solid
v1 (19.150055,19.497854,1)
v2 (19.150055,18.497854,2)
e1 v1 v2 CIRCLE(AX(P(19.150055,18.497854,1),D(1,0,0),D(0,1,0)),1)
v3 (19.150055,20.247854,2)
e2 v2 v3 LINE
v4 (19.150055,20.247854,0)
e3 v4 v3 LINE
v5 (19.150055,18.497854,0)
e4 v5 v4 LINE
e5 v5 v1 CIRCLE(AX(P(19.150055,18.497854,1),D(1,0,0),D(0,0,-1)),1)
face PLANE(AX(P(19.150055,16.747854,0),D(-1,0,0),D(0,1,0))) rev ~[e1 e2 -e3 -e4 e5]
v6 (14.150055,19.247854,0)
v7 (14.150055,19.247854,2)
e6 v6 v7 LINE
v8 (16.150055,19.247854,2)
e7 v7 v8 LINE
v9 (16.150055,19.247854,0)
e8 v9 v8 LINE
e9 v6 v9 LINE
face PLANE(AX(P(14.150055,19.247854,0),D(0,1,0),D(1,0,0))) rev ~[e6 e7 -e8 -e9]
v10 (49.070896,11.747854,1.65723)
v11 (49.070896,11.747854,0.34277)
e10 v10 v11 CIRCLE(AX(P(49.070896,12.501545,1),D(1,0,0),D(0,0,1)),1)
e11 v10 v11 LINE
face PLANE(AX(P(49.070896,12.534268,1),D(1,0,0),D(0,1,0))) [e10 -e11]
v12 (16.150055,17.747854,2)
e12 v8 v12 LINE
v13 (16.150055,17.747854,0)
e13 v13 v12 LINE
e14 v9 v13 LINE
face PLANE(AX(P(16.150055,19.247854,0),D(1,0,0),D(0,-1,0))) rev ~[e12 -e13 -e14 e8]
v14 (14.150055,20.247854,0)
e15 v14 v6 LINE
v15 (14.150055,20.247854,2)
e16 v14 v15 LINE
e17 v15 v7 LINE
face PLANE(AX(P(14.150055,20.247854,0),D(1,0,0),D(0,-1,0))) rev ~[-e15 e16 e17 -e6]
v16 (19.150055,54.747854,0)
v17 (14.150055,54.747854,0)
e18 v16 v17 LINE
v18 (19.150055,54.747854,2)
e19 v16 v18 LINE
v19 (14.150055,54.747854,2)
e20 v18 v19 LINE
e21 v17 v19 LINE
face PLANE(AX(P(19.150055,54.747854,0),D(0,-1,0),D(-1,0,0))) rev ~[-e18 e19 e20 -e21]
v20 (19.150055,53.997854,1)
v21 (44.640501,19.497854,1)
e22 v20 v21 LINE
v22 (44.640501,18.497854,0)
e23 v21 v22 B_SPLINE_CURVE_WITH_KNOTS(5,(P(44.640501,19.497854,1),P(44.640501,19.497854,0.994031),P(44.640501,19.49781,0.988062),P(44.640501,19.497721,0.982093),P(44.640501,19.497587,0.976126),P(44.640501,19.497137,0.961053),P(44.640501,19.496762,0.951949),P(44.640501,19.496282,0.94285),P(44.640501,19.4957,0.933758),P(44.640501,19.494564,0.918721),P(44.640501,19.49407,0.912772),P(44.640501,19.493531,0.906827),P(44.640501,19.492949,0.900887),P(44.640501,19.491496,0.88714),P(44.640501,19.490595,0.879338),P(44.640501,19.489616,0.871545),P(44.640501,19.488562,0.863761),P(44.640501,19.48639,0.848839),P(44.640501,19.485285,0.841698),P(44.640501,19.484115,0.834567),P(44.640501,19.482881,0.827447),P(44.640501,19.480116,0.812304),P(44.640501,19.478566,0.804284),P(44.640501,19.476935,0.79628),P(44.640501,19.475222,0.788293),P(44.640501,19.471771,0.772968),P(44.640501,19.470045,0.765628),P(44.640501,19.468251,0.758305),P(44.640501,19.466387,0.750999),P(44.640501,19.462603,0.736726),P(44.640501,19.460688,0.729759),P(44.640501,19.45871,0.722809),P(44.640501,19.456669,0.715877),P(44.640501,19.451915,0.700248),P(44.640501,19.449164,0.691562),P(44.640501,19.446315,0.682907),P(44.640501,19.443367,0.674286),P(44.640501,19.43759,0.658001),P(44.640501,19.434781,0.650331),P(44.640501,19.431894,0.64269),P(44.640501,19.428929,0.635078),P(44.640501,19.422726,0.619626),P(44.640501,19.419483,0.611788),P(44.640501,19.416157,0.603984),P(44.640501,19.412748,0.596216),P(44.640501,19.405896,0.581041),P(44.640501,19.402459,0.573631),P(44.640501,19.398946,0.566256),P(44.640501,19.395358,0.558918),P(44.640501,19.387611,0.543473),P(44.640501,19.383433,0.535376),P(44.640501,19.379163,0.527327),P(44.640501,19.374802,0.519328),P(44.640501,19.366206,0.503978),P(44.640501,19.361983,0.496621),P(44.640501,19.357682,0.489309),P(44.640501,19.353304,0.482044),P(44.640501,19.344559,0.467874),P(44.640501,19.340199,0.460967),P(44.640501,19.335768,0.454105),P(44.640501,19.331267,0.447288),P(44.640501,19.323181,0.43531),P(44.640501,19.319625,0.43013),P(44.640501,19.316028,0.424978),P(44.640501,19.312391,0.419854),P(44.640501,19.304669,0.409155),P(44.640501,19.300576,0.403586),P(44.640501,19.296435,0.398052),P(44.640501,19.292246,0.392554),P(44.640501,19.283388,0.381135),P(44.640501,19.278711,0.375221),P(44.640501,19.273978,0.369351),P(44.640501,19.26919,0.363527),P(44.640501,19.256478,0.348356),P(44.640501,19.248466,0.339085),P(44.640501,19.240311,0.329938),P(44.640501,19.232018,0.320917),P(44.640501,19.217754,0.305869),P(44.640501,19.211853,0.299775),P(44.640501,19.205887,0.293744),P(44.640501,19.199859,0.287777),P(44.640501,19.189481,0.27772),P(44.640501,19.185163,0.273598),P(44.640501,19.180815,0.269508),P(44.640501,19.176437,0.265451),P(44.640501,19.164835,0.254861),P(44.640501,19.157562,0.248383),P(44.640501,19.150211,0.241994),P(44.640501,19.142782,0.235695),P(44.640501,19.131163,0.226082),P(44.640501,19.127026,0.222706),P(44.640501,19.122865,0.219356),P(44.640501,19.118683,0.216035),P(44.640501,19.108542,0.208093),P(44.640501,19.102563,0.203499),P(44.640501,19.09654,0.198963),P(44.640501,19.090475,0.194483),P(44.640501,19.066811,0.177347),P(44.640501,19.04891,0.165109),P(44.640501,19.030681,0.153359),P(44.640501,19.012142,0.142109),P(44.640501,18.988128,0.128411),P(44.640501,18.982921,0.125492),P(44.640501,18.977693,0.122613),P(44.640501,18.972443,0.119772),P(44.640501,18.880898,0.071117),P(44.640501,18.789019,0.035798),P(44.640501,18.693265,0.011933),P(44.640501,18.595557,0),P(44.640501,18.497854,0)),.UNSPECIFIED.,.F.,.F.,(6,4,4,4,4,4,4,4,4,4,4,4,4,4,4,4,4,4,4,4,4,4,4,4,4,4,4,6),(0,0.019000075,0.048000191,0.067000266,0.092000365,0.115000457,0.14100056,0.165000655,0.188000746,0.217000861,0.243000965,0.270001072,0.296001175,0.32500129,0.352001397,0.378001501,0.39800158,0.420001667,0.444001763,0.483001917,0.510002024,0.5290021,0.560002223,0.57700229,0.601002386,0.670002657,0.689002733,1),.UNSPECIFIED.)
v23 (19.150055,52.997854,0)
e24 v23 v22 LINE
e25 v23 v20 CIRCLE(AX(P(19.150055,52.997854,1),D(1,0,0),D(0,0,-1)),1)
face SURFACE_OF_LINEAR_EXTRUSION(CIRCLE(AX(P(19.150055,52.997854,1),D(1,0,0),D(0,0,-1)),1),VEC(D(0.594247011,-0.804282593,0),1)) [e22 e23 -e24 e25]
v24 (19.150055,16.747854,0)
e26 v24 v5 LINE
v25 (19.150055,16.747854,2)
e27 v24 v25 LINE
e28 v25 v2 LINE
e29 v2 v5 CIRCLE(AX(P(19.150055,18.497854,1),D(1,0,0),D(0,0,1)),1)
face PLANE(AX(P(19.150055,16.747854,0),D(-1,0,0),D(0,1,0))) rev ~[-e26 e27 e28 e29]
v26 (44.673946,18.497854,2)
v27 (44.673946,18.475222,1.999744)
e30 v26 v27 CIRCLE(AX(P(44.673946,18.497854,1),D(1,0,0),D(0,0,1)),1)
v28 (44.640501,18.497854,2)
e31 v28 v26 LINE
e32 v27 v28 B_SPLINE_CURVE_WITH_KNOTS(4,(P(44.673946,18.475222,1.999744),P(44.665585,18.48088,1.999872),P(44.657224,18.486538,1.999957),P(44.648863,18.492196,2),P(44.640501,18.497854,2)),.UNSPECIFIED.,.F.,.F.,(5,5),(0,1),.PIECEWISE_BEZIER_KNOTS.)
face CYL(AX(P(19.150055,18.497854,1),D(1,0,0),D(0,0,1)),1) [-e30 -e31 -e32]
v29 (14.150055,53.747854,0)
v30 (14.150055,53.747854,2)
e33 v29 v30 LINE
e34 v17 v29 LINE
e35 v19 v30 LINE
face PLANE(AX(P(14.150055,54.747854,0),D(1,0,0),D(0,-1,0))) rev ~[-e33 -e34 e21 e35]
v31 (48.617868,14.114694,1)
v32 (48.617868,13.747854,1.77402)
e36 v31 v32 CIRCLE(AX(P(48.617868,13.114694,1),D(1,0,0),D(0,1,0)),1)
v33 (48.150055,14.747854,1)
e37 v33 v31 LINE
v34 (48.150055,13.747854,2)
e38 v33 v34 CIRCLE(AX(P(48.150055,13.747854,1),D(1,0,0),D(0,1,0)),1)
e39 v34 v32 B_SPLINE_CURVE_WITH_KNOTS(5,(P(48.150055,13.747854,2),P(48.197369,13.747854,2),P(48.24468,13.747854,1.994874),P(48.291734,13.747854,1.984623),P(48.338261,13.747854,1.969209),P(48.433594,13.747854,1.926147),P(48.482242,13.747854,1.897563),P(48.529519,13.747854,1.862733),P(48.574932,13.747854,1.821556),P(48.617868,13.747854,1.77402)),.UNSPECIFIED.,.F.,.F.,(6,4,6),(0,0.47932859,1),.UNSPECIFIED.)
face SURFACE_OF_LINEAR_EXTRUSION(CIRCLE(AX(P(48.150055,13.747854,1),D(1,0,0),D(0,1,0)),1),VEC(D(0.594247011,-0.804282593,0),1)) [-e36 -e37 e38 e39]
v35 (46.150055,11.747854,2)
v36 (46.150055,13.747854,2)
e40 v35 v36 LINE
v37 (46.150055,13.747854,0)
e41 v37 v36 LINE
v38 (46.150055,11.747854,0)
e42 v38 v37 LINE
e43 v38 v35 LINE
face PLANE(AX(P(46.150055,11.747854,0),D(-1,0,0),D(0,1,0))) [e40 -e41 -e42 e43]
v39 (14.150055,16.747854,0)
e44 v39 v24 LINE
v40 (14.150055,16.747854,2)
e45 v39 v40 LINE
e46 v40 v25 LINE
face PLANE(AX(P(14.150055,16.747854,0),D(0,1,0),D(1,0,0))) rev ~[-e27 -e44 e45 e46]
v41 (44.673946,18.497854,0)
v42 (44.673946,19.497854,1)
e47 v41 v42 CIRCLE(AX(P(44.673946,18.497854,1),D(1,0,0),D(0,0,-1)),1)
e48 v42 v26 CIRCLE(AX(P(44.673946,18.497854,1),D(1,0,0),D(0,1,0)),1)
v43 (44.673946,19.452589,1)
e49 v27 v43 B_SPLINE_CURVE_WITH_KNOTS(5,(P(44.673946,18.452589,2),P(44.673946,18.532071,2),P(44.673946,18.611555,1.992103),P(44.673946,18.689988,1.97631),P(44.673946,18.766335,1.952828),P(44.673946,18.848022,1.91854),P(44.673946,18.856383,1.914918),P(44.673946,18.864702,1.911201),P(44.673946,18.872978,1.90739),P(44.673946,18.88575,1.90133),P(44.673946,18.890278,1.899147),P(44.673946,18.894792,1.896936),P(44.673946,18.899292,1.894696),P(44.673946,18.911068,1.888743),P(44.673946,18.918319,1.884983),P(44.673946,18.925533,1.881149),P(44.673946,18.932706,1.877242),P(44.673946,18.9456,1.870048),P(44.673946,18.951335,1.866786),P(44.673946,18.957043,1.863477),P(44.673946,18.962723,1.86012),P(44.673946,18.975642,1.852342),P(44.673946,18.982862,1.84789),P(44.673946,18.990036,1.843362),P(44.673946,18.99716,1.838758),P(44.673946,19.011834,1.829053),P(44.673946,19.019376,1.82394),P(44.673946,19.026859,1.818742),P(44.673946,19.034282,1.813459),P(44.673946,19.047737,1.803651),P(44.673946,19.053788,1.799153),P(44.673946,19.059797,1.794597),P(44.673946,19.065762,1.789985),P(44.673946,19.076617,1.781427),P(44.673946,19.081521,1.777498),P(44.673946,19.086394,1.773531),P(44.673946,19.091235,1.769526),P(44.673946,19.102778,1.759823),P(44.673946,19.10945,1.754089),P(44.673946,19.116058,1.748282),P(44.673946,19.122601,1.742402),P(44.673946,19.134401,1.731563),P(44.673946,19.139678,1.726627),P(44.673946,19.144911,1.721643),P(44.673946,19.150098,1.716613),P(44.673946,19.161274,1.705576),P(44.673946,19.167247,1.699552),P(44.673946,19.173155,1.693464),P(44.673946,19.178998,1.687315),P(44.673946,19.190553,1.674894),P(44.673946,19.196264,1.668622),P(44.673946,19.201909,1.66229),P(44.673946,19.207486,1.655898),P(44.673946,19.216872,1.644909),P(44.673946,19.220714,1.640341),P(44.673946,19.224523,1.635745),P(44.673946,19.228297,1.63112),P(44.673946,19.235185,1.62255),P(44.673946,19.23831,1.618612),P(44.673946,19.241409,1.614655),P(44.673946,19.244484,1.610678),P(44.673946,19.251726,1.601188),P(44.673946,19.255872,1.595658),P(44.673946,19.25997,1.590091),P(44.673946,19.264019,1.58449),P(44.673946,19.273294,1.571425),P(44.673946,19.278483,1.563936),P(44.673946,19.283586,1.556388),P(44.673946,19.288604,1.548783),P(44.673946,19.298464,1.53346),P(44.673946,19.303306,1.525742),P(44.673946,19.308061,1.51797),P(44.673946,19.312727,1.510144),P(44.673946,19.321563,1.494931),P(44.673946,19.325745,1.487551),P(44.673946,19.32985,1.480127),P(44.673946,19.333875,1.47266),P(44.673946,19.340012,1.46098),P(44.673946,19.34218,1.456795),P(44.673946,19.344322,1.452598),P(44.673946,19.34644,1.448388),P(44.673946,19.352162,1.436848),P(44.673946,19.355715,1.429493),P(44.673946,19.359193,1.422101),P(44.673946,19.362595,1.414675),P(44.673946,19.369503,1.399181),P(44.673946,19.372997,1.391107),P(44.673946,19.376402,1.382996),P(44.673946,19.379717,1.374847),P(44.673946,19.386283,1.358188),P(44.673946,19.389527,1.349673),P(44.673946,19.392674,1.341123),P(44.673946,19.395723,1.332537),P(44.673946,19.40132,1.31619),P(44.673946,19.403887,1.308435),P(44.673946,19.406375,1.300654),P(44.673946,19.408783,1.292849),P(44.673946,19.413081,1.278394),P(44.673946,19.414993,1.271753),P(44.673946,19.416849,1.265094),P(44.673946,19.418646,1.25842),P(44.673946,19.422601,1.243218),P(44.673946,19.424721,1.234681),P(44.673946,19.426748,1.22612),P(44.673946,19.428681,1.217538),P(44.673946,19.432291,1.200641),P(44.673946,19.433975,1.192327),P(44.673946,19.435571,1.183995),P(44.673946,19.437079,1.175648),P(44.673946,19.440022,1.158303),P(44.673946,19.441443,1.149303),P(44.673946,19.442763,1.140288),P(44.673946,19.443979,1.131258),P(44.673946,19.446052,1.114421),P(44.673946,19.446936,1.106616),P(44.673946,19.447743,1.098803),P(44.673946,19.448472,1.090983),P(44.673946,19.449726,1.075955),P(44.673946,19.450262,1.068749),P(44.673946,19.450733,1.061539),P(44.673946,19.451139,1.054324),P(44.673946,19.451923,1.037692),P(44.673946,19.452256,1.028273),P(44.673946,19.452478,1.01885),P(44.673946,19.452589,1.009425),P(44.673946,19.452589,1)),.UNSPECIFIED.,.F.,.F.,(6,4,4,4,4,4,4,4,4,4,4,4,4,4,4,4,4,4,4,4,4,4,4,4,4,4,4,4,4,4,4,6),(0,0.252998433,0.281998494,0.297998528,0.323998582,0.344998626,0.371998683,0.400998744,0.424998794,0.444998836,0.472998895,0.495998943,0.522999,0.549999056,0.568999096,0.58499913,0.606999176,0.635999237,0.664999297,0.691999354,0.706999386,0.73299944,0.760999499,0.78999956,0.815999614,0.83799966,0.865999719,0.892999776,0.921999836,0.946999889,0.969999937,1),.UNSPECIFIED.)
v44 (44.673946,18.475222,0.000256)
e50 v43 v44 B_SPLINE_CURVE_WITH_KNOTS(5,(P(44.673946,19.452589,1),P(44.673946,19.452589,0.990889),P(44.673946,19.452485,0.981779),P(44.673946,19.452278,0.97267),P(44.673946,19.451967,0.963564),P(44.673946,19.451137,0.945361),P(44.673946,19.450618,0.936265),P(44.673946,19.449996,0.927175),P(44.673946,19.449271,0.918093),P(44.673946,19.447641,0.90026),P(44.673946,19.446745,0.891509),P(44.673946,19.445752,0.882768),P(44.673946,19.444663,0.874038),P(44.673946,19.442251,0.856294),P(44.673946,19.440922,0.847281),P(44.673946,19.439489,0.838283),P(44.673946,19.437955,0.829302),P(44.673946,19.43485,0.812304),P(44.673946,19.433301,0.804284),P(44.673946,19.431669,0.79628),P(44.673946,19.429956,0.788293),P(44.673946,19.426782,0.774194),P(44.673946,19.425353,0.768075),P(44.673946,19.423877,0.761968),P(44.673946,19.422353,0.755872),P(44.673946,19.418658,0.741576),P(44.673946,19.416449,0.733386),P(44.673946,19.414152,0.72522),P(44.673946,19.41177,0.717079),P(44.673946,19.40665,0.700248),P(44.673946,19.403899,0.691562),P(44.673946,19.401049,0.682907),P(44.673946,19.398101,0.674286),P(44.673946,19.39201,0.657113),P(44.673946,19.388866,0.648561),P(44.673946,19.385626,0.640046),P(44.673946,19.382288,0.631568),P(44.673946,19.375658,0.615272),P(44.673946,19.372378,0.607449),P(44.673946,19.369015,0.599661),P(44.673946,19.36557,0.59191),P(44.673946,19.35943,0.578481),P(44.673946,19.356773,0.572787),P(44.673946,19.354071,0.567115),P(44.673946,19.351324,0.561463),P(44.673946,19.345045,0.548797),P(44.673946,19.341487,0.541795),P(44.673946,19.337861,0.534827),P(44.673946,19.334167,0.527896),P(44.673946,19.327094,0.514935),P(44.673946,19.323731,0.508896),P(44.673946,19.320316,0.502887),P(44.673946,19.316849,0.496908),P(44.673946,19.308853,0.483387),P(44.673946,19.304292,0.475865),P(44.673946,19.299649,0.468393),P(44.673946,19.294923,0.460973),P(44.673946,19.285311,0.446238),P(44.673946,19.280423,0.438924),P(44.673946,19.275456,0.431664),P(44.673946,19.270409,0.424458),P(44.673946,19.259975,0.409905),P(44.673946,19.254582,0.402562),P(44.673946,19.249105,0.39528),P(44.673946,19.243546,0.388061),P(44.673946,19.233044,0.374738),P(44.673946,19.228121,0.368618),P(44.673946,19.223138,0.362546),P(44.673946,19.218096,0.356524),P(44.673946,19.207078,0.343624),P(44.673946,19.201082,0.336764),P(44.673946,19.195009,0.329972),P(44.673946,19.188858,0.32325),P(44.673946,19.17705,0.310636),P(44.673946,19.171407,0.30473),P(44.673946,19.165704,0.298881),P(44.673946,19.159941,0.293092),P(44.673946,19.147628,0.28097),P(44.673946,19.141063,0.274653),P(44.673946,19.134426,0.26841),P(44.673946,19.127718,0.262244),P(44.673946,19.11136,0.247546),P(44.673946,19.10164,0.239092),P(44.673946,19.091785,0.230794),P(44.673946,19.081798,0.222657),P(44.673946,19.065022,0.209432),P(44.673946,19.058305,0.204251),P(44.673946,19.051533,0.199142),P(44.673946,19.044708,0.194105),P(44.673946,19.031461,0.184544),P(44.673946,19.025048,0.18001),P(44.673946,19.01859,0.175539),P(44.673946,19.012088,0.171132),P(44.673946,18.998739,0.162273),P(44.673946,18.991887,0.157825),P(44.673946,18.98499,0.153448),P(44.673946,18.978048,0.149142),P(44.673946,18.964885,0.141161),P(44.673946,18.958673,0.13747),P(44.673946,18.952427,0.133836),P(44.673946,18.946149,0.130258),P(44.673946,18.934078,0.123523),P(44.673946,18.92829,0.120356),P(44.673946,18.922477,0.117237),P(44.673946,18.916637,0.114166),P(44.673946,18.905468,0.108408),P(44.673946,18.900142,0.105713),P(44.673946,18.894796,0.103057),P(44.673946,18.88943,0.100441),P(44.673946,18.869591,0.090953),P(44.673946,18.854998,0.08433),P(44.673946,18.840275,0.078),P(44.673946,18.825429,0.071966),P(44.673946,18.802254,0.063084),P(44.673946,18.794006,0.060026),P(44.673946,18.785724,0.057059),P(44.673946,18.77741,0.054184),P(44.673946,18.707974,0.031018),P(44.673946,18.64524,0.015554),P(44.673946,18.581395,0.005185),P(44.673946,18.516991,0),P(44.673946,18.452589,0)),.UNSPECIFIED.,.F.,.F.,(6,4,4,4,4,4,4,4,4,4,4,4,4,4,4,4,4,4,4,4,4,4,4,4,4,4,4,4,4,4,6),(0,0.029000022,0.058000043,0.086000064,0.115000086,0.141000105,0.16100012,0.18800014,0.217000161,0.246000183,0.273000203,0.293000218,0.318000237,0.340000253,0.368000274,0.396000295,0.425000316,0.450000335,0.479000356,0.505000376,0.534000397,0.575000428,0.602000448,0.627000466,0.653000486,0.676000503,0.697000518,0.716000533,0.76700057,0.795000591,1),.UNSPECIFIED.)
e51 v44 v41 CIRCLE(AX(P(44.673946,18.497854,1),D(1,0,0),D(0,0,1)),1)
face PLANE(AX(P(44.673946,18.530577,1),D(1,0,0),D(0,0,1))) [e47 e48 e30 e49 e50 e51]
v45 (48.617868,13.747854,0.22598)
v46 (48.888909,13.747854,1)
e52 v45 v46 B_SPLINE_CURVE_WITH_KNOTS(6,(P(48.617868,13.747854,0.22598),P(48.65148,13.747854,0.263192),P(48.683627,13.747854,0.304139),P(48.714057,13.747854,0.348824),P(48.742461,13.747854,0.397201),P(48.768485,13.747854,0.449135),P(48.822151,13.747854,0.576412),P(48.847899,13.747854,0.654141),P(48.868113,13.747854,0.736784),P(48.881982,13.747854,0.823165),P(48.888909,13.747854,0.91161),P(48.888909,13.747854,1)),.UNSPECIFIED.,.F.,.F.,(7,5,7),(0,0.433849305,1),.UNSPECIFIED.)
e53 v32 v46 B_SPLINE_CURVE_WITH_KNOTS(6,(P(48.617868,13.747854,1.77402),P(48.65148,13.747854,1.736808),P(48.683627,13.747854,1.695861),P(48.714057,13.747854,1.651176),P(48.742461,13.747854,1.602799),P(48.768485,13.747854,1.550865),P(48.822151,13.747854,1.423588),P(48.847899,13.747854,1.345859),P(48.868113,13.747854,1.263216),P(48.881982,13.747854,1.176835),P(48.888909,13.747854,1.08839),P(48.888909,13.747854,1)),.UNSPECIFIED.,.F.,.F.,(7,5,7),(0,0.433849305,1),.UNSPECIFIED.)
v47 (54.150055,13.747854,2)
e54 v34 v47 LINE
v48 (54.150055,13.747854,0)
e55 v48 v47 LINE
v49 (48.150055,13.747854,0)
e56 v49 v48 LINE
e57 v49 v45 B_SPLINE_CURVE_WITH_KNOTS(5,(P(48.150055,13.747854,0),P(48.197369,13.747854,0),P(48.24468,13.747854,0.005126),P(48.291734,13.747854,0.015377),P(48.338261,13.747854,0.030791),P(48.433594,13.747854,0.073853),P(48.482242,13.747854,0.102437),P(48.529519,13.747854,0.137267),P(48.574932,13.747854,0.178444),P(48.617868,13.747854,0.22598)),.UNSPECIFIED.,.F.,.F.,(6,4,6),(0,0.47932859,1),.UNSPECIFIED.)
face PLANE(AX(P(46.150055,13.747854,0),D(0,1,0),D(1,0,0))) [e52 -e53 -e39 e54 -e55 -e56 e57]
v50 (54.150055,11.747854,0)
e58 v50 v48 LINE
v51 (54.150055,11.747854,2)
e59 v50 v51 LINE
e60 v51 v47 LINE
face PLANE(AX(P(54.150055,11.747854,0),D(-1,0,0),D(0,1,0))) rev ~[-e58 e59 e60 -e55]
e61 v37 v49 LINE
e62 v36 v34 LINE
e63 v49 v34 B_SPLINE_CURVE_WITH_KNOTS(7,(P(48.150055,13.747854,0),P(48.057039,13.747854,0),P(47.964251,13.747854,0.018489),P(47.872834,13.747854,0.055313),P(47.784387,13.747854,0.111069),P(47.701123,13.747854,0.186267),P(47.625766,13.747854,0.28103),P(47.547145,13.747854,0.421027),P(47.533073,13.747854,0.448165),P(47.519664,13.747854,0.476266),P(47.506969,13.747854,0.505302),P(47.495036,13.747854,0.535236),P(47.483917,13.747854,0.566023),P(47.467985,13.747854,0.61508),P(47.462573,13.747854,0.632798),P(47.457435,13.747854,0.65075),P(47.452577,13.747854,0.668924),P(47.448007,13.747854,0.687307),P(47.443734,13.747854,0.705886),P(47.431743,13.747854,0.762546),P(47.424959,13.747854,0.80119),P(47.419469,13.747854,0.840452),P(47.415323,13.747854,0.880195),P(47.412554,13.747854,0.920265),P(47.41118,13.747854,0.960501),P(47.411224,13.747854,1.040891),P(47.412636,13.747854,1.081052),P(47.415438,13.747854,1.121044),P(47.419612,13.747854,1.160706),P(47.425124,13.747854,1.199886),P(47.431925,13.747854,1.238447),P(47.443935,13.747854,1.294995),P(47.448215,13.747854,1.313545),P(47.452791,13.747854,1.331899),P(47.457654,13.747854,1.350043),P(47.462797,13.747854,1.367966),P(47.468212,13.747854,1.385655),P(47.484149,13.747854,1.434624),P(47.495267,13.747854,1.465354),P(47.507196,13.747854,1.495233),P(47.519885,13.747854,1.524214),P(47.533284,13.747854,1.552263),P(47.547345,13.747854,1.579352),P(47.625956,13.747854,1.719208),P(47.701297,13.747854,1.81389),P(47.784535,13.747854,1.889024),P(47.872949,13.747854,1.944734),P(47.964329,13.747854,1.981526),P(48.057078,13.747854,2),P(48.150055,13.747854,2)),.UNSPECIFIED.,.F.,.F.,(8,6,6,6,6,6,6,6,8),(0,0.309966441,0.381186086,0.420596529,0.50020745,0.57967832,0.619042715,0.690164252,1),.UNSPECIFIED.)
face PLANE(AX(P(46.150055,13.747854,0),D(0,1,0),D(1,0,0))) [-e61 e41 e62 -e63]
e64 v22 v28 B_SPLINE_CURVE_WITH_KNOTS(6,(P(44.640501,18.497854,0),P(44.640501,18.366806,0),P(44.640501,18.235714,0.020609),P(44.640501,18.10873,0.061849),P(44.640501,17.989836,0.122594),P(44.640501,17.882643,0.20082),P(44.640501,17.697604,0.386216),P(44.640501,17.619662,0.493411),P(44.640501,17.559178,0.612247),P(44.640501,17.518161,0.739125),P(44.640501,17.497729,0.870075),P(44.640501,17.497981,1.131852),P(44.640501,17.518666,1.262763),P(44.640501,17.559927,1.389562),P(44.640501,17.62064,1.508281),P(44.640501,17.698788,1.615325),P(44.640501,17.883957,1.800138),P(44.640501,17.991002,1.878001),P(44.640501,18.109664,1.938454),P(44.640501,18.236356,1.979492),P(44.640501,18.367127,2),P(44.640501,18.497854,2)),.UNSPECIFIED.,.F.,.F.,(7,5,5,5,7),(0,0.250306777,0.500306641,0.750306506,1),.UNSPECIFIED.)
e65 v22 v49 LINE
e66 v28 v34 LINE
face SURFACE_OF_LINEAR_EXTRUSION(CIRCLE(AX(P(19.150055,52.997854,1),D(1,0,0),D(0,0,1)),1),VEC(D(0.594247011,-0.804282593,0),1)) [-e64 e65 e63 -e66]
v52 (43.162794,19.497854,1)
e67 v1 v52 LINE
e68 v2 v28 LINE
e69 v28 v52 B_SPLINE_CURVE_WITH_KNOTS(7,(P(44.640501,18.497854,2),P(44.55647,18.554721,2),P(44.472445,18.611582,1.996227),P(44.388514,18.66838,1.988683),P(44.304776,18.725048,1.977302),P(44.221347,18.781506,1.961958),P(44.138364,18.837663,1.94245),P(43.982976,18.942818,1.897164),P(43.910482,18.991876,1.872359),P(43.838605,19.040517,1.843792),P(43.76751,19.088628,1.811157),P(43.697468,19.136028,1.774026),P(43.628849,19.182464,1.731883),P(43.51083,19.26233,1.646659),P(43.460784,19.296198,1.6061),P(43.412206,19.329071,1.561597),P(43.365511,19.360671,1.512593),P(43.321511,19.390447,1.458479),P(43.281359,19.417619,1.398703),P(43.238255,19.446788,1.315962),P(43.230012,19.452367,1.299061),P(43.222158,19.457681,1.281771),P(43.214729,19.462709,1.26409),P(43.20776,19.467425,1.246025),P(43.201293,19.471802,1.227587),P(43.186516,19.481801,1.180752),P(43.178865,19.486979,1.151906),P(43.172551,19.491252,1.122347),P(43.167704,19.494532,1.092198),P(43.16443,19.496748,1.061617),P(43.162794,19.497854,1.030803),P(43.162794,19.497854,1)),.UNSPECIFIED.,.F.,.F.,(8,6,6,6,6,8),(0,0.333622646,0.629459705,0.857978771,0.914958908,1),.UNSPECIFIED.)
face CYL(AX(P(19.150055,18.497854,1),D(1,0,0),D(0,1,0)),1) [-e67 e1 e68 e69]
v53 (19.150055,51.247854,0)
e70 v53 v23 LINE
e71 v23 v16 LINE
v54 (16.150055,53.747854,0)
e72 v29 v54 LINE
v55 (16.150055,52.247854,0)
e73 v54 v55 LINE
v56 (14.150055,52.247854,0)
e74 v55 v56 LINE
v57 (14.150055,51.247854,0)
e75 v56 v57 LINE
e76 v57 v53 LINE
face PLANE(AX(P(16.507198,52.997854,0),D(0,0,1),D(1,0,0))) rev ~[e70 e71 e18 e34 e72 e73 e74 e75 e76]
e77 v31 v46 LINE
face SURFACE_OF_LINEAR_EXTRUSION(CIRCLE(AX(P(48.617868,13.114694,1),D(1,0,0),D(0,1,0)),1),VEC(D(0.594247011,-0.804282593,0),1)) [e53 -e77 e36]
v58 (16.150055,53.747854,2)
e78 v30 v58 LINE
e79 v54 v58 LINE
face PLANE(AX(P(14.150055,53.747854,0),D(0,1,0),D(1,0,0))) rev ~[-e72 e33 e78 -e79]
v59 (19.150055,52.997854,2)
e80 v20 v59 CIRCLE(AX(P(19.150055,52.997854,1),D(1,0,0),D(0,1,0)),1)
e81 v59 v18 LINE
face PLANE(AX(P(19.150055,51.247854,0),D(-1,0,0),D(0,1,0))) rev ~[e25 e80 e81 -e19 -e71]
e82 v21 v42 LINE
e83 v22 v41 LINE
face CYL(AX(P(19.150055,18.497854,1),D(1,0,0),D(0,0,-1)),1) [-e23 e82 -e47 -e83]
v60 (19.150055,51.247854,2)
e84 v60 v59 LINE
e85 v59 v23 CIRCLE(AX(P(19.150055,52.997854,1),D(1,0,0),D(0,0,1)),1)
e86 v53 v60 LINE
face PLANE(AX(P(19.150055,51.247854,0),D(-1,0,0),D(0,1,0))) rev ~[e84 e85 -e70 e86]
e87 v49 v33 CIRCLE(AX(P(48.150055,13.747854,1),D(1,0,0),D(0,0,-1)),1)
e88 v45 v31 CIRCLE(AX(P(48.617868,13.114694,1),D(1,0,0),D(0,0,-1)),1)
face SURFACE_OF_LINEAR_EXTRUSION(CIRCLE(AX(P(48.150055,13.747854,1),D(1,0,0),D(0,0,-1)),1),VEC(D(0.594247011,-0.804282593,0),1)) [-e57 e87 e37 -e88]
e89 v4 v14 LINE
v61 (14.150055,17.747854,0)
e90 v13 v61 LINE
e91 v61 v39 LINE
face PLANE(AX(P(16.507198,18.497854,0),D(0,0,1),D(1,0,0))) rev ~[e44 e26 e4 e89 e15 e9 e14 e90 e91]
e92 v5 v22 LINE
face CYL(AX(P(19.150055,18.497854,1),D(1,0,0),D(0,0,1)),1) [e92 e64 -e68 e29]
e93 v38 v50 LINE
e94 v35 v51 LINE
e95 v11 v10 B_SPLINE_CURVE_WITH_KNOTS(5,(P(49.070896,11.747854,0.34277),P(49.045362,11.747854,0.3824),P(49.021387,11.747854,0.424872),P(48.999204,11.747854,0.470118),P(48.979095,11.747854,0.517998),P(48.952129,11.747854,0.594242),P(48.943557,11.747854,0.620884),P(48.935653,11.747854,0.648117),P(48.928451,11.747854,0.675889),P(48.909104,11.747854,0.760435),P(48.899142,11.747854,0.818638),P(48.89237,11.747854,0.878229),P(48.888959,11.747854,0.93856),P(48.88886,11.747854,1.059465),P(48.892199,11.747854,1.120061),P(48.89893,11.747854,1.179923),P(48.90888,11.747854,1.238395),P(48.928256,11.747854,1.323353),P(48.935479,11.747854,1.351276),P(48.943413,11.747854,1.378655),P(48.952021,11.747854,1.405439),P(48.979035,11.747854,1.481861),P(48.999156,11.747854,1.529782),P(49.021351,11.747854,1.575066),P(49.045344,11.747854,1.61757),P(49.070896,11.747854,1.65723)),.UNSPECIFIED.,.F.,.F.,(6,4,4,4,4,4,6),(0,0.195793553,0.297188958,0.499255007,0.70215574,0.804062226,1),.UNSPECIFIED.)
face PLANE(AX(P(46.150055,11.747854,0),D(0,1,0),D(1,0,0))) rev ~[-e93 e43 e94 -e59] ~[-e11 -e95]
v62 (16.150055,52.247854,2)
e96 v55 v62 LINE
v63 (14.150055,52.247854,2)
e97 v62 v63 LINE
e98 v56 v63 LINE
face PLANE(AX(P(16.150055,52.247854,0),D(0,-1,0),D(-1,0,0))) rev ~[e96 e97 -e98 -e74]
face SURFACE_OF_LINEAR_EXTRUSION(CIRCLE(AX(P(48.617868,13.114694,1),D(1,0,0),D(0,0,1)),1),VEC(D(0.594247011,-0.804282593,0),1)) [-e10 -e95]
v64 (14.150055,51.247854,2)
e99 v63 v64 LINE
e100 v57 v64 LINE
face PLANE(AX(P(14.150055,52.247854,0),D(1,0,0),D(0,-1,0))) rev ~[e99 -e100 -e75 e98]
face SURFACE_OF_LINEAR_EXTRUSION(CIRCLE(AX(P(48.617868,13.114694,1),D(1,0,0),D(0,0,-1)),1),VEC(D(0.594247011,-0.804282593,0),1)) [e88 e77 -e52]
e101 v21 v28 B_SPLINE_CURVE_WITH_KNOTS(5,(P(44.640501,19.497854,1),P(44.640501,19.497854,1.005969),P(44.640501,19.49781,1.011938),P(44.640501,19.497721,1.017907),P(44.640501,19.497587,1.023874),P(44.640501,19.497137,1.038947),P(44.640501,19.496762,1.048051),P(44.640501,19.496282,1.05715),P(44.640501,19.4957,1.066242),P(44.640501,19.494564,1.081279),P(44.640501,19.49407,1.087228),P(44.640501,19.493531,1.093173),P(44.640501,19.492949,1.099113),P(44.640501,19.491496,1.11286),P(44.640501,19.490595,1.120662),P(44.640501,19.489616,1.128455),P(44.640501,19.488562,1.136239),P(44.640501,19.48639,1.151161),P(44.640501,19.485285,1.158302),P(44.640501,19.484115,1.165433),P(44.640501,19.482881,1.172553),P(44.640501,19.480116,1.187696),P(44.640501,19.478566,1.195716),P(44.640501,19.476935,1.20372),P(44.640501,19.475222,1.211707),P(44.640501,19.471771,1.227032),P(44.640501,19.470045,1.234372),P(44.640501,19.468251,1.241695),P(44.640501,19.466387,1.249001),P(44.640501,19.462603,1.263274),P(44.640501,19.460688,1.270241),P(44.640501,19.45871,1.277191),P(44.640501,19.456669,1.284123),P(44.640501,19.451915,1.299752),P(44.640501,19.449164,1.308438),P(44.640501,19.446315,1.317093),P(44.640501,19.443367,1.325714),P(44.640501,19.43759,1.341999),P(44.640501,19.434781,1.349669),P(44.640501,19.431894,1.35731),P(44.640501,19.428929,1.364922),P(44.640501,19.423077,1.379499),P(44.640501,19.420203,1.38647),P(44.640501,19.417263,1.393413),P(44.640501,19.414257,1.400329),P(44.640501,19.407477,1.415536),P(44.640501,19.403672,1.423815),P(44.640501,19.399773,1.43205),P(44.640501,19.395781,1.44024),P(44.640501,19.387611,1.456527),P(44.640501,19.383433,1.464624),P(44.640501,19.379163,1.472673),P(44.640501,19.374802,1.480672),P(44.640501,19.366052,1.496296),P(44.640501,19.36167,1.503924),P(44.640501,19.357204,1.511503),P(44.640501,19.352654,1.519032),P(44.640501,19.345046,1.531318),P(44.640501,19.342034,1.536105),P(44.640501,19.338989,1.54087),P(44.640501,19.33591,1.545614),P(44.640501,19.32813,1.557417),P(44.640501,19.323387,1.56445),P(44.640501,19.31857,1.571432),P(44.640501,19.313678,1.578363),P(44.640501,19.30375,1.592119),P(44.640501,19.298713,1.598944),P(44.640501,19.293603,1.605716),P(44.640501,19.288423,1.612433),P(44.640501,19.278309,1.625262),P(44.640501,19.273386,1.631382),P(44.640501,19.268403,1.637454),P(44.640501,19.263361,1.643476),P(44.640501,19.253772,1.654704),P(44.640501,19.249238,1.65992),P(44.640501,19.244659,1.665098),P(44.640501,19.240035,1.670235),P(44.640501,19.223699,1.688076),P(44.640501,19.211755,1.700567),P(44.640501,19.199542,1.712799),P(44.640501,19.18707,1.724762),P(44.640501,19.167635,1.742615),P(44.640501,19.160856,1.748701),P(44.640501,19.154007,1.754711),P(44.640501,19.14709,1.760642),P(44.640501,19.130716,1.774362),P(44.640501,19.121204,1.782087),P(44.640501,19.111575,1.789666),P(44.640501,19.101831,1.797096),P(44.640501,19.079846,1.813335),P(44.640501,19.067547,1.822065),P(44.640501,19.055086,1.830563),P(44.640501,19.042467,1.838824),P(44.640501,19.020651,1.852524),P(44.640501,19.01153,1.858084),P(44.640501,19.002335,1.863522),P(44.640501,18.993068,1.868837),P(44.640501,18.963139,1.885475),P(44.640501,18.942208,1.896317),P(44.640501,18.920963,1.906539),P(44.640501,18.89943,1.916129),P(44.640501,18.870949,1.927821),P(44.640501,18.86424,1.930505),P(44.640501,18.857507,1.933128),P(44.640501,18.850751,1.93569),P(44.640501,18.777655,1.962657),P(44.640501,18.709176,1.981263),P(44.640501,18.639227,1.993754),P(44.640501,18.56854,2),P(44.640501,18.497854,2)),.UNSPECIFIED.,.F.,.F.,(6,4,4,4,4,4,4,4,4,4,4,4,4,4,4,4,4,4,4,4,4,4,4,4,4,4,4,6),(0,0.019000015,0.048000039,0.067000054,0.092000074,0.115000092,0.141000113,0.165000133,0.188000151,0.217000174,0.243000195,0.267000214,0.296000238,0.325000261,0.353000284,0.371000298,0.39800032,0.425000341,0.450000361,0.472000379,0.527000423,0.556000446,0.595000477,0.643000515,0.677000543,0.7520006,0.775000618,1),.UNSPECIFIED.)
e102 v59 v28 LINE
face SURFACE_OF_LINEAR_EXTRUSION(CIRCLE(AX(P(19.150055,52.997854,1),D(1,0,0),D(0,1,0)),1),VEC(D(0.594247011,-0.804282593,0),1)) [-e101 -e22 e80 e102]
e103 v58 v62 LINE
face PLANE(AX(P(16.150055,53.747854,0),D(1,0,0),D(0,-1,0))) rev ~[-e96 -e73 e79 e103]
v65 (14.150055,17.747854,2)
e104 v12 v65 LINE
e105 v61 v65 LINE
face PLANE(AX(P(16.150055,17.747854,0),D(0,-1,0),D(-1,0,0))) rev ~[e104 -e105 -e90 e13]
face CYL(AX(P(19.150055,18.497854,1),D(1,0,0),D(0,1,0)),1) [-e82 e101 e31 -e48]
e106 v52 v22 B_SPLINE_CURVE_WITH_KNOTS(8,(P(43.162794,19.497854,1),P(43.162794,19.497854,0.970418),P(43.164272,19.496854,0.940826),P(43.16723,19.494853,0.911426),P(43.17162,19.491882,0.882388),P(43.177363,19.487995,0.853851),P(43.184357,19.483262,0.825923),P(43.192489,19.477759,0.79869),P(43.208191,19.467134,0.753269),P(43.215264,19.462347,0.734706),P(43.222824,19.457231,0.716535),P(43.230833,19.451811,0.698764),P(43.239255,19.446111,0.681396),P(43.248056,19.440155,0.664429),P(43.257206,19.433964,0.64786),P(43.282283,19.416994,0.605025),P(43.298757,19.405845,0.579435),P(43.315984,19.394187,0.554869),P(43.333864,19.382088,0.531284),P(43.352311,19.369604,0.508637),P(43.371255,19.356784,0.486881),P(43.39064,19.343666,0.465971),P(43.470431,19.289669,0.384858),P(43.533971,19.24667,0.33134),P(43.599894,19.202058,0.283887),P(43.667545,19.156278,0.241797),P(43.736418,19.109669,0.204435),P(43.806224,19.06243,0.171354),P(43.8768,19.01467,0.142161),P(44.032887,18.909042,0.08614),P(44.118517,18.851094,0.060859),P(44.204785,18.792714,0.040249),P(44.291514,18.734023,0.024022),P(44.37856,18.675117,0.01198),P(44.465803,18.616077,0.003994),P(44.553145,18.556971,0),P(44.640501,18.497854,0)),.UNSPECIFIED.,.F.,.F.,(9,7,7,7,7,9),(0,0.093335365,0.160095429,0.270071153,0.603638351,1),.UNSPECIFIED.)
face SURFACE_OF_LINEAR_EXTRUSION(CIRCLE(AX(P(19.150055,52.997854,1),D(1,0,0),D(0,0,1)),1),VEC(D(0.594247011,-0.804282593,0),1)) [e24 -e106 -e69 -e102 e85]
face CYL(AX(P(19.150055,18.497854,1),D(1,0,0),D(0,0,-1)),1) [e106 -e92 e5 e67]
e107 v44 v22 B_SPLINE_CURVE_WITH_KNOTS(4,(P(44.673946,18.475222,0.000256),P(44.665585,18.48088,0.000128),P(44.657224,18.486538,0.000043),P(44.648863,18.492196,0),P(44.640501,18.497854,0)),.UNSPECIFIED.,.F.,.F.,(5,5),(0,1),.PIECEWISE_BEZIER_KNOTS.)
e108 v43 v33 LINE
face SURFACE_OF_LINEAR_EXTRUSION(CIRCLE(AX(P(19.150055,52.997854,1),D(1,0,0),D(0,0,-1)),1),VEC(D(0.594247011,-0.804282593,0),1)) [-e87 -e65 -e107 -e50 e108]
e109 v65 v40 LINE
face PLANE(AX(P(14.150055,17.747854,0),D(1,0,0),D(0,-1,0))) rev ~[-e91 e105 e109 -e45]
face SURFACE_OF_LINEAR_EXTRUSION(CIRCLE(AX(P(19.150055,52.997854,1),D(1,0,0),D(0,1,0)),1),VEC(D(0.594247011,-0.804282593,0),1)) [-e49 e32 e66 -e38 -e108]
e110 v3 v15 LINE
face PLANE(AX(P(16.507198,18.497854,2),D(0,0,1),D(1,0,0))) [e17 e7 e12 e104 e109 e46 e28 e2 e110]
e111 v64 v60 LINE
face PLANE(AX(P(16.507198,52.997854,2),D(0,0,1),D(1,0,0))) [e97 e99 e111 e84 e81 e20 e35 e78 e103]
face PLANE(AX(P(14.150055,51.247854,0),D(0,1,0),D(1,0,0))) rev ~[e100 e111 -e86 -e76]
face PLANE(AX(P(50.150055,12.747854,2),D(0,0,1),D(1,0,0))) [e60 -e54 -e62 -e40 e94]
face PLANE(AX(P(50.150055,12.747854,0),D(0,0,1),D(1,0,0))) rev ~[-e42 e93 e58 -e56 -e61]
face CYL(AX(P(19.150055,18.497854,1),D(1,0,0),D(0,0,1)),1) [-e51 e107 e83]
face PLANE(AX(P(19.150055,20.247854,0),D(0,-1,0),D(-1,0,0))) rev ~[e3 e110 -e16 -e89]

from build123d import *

# Parameters (mm, degrees)
F1_DEPTH = 2
F0_W     = 8
F0_H     = 2
F3_DEPTH = 2


with BuildPart() as f1:
    # F0 (on Top) → F1 (new body)
    with BuildSketch(Plane.XY):
        Polygon((19.1500553724, 54.7478544891), (14.1500553724, 54.7478544891), (14.1500553724, 53.7478544891), (16.1500553724, 53.7478544891), (16.1500553724, 52.2478544891), (14.1500553724, 52.2478544891), (14.1500553724, 51.2478544891), (19.1500553724, 51.2478544891), align=None)
    extrude(amount=F1_DEPTH)

    # F0 (on Top) → F3 (join)
    with BuildSketch(Plane.XY):
        Polygon((19.1500553724, 54.7478544891), (14.1500553724, 54.7478544891), (14.1500553724, 53.7478544891), (16.1500553724, 53.7478544891), (16.1500553724, 52.2478544891), (14.1500553724, 52.2478544891), (14.1500553724, 51.2478544891), (19.1500553724, 51.2478544891), align=None)
    extrude(amount=F3_DEPTH)



with BuildPart() as f1b:
    # F0 (on Top) → F1, piece 2 (new body)
    with BuildSketch(Plane.XY):
        Polygon((14.1500553724, 16.7478544891), (19.1500553724, 16.7478544891), (19.1500553724, 20.2478544891), (14.1500553724, 20.2478544891), (14.1500553724, 19.2478544891), (16.1500553724, 19.2478544891), (16.1500553724, 17.7478544891), (14.1500553724, 17.7478544891), align=None)
    extrude(amount=F1_DEPTH)

    # F0 (on Top) → F3, piece 2 (join)
    with BuildSketch(Plane.XY):
        Polygon((14.1500553724, 16.7478544891), (19.1500553724, 16.7478544891), (19.1500553724, 20.2478544891), (14.1500553724, 20.2478544891), (14.1500553724, 19.2478544891), (16.1500553724, 19.2478544891), (16.1500553724, 17.7478544891), (14.1500553724, 17.7478544891), align=None)
    extrude(amount=F3_DEPTH)


with BuildPart() as f1c:
    # F0 (on Top) → F1, piece 3 (new body)
    with BuildSketch(Plane.XY):
        with Locations((50.1500553724, 12.7478544891)):
            Rectangle(F0_W, F0_H)
    extrude(amount=F1_DEPTH)

    # F0 (on Top) → F3, piece 3 (join)
    with BuildSketch(Plane.XY):
        with Locations((50.1500553724, 12.7478544891)):
            Rectangle(F0_W, F0_H)
    extrude(amount=F3_DEPTH)


with BuildPart() as f1_1:
    add(f1.part)

    add(f1c.part)  # F8 merges F1c
    # F8: sweep along a path in F7
    with BuildLine(Plane.XY.offset(1)) as f8_path:
        Line((19.1500553724, 52.9978544891), (48.1500553724, 13.7478544891))
        Line((48.1500553724, 13.7478544891), (48.6178682598, 13.1146939432))
        Line((48.6178682598, 13.1146939432), (49.0708957451, 12.5015446744))
    # F4 (on face) → F8 (sweep)
    with BuildSketch(Plane.YZ.offset(19.1500553724)):
        with BuildLine():
            ThreePointArc((52.9978544891, 0), (53.7049612703, 0.2928932188), (53.9978544891, 1))
            ThreePointArc((53.9978544891, 1), (53.7049612703, 1.7071067812), (52.9978544891, 2))
            ThreePointArc((52.9978544891, 2), (51.9978544891, 1), (52.9978544891, 0))
        make_face()
    sweep(path=f8_path.line)


    add(f1b.part)  # F10 merges F1b
    # F10: sweep along a path in F9
    with BuildLine(Plane.XY.offset(1)) as f10_path:
        Line((19.1500553724, 18.4978544891), (44.6739457548, 18.4978544891))
    # F5 (on face) → F10 (sweep)
    with BuildSketch(Plane.YZ.offset(19.1500553724)):
        with BuildLine():
            ThreePointArc((18.4978544891, 0), (19.2049612703, 0.2928932188), (19.4978544891, 1))
            ThreePointArc((19.4978544891, 1), (19.2049612703, 1.7071067812), (18.4978544891, 2))
            ThreePointArc((18.4978544891, 2), (17.4978544891, 1), (18.4978544891, 0))
        make_face()
    sweep(path=f10_path.line)


solid = f1_1.part
